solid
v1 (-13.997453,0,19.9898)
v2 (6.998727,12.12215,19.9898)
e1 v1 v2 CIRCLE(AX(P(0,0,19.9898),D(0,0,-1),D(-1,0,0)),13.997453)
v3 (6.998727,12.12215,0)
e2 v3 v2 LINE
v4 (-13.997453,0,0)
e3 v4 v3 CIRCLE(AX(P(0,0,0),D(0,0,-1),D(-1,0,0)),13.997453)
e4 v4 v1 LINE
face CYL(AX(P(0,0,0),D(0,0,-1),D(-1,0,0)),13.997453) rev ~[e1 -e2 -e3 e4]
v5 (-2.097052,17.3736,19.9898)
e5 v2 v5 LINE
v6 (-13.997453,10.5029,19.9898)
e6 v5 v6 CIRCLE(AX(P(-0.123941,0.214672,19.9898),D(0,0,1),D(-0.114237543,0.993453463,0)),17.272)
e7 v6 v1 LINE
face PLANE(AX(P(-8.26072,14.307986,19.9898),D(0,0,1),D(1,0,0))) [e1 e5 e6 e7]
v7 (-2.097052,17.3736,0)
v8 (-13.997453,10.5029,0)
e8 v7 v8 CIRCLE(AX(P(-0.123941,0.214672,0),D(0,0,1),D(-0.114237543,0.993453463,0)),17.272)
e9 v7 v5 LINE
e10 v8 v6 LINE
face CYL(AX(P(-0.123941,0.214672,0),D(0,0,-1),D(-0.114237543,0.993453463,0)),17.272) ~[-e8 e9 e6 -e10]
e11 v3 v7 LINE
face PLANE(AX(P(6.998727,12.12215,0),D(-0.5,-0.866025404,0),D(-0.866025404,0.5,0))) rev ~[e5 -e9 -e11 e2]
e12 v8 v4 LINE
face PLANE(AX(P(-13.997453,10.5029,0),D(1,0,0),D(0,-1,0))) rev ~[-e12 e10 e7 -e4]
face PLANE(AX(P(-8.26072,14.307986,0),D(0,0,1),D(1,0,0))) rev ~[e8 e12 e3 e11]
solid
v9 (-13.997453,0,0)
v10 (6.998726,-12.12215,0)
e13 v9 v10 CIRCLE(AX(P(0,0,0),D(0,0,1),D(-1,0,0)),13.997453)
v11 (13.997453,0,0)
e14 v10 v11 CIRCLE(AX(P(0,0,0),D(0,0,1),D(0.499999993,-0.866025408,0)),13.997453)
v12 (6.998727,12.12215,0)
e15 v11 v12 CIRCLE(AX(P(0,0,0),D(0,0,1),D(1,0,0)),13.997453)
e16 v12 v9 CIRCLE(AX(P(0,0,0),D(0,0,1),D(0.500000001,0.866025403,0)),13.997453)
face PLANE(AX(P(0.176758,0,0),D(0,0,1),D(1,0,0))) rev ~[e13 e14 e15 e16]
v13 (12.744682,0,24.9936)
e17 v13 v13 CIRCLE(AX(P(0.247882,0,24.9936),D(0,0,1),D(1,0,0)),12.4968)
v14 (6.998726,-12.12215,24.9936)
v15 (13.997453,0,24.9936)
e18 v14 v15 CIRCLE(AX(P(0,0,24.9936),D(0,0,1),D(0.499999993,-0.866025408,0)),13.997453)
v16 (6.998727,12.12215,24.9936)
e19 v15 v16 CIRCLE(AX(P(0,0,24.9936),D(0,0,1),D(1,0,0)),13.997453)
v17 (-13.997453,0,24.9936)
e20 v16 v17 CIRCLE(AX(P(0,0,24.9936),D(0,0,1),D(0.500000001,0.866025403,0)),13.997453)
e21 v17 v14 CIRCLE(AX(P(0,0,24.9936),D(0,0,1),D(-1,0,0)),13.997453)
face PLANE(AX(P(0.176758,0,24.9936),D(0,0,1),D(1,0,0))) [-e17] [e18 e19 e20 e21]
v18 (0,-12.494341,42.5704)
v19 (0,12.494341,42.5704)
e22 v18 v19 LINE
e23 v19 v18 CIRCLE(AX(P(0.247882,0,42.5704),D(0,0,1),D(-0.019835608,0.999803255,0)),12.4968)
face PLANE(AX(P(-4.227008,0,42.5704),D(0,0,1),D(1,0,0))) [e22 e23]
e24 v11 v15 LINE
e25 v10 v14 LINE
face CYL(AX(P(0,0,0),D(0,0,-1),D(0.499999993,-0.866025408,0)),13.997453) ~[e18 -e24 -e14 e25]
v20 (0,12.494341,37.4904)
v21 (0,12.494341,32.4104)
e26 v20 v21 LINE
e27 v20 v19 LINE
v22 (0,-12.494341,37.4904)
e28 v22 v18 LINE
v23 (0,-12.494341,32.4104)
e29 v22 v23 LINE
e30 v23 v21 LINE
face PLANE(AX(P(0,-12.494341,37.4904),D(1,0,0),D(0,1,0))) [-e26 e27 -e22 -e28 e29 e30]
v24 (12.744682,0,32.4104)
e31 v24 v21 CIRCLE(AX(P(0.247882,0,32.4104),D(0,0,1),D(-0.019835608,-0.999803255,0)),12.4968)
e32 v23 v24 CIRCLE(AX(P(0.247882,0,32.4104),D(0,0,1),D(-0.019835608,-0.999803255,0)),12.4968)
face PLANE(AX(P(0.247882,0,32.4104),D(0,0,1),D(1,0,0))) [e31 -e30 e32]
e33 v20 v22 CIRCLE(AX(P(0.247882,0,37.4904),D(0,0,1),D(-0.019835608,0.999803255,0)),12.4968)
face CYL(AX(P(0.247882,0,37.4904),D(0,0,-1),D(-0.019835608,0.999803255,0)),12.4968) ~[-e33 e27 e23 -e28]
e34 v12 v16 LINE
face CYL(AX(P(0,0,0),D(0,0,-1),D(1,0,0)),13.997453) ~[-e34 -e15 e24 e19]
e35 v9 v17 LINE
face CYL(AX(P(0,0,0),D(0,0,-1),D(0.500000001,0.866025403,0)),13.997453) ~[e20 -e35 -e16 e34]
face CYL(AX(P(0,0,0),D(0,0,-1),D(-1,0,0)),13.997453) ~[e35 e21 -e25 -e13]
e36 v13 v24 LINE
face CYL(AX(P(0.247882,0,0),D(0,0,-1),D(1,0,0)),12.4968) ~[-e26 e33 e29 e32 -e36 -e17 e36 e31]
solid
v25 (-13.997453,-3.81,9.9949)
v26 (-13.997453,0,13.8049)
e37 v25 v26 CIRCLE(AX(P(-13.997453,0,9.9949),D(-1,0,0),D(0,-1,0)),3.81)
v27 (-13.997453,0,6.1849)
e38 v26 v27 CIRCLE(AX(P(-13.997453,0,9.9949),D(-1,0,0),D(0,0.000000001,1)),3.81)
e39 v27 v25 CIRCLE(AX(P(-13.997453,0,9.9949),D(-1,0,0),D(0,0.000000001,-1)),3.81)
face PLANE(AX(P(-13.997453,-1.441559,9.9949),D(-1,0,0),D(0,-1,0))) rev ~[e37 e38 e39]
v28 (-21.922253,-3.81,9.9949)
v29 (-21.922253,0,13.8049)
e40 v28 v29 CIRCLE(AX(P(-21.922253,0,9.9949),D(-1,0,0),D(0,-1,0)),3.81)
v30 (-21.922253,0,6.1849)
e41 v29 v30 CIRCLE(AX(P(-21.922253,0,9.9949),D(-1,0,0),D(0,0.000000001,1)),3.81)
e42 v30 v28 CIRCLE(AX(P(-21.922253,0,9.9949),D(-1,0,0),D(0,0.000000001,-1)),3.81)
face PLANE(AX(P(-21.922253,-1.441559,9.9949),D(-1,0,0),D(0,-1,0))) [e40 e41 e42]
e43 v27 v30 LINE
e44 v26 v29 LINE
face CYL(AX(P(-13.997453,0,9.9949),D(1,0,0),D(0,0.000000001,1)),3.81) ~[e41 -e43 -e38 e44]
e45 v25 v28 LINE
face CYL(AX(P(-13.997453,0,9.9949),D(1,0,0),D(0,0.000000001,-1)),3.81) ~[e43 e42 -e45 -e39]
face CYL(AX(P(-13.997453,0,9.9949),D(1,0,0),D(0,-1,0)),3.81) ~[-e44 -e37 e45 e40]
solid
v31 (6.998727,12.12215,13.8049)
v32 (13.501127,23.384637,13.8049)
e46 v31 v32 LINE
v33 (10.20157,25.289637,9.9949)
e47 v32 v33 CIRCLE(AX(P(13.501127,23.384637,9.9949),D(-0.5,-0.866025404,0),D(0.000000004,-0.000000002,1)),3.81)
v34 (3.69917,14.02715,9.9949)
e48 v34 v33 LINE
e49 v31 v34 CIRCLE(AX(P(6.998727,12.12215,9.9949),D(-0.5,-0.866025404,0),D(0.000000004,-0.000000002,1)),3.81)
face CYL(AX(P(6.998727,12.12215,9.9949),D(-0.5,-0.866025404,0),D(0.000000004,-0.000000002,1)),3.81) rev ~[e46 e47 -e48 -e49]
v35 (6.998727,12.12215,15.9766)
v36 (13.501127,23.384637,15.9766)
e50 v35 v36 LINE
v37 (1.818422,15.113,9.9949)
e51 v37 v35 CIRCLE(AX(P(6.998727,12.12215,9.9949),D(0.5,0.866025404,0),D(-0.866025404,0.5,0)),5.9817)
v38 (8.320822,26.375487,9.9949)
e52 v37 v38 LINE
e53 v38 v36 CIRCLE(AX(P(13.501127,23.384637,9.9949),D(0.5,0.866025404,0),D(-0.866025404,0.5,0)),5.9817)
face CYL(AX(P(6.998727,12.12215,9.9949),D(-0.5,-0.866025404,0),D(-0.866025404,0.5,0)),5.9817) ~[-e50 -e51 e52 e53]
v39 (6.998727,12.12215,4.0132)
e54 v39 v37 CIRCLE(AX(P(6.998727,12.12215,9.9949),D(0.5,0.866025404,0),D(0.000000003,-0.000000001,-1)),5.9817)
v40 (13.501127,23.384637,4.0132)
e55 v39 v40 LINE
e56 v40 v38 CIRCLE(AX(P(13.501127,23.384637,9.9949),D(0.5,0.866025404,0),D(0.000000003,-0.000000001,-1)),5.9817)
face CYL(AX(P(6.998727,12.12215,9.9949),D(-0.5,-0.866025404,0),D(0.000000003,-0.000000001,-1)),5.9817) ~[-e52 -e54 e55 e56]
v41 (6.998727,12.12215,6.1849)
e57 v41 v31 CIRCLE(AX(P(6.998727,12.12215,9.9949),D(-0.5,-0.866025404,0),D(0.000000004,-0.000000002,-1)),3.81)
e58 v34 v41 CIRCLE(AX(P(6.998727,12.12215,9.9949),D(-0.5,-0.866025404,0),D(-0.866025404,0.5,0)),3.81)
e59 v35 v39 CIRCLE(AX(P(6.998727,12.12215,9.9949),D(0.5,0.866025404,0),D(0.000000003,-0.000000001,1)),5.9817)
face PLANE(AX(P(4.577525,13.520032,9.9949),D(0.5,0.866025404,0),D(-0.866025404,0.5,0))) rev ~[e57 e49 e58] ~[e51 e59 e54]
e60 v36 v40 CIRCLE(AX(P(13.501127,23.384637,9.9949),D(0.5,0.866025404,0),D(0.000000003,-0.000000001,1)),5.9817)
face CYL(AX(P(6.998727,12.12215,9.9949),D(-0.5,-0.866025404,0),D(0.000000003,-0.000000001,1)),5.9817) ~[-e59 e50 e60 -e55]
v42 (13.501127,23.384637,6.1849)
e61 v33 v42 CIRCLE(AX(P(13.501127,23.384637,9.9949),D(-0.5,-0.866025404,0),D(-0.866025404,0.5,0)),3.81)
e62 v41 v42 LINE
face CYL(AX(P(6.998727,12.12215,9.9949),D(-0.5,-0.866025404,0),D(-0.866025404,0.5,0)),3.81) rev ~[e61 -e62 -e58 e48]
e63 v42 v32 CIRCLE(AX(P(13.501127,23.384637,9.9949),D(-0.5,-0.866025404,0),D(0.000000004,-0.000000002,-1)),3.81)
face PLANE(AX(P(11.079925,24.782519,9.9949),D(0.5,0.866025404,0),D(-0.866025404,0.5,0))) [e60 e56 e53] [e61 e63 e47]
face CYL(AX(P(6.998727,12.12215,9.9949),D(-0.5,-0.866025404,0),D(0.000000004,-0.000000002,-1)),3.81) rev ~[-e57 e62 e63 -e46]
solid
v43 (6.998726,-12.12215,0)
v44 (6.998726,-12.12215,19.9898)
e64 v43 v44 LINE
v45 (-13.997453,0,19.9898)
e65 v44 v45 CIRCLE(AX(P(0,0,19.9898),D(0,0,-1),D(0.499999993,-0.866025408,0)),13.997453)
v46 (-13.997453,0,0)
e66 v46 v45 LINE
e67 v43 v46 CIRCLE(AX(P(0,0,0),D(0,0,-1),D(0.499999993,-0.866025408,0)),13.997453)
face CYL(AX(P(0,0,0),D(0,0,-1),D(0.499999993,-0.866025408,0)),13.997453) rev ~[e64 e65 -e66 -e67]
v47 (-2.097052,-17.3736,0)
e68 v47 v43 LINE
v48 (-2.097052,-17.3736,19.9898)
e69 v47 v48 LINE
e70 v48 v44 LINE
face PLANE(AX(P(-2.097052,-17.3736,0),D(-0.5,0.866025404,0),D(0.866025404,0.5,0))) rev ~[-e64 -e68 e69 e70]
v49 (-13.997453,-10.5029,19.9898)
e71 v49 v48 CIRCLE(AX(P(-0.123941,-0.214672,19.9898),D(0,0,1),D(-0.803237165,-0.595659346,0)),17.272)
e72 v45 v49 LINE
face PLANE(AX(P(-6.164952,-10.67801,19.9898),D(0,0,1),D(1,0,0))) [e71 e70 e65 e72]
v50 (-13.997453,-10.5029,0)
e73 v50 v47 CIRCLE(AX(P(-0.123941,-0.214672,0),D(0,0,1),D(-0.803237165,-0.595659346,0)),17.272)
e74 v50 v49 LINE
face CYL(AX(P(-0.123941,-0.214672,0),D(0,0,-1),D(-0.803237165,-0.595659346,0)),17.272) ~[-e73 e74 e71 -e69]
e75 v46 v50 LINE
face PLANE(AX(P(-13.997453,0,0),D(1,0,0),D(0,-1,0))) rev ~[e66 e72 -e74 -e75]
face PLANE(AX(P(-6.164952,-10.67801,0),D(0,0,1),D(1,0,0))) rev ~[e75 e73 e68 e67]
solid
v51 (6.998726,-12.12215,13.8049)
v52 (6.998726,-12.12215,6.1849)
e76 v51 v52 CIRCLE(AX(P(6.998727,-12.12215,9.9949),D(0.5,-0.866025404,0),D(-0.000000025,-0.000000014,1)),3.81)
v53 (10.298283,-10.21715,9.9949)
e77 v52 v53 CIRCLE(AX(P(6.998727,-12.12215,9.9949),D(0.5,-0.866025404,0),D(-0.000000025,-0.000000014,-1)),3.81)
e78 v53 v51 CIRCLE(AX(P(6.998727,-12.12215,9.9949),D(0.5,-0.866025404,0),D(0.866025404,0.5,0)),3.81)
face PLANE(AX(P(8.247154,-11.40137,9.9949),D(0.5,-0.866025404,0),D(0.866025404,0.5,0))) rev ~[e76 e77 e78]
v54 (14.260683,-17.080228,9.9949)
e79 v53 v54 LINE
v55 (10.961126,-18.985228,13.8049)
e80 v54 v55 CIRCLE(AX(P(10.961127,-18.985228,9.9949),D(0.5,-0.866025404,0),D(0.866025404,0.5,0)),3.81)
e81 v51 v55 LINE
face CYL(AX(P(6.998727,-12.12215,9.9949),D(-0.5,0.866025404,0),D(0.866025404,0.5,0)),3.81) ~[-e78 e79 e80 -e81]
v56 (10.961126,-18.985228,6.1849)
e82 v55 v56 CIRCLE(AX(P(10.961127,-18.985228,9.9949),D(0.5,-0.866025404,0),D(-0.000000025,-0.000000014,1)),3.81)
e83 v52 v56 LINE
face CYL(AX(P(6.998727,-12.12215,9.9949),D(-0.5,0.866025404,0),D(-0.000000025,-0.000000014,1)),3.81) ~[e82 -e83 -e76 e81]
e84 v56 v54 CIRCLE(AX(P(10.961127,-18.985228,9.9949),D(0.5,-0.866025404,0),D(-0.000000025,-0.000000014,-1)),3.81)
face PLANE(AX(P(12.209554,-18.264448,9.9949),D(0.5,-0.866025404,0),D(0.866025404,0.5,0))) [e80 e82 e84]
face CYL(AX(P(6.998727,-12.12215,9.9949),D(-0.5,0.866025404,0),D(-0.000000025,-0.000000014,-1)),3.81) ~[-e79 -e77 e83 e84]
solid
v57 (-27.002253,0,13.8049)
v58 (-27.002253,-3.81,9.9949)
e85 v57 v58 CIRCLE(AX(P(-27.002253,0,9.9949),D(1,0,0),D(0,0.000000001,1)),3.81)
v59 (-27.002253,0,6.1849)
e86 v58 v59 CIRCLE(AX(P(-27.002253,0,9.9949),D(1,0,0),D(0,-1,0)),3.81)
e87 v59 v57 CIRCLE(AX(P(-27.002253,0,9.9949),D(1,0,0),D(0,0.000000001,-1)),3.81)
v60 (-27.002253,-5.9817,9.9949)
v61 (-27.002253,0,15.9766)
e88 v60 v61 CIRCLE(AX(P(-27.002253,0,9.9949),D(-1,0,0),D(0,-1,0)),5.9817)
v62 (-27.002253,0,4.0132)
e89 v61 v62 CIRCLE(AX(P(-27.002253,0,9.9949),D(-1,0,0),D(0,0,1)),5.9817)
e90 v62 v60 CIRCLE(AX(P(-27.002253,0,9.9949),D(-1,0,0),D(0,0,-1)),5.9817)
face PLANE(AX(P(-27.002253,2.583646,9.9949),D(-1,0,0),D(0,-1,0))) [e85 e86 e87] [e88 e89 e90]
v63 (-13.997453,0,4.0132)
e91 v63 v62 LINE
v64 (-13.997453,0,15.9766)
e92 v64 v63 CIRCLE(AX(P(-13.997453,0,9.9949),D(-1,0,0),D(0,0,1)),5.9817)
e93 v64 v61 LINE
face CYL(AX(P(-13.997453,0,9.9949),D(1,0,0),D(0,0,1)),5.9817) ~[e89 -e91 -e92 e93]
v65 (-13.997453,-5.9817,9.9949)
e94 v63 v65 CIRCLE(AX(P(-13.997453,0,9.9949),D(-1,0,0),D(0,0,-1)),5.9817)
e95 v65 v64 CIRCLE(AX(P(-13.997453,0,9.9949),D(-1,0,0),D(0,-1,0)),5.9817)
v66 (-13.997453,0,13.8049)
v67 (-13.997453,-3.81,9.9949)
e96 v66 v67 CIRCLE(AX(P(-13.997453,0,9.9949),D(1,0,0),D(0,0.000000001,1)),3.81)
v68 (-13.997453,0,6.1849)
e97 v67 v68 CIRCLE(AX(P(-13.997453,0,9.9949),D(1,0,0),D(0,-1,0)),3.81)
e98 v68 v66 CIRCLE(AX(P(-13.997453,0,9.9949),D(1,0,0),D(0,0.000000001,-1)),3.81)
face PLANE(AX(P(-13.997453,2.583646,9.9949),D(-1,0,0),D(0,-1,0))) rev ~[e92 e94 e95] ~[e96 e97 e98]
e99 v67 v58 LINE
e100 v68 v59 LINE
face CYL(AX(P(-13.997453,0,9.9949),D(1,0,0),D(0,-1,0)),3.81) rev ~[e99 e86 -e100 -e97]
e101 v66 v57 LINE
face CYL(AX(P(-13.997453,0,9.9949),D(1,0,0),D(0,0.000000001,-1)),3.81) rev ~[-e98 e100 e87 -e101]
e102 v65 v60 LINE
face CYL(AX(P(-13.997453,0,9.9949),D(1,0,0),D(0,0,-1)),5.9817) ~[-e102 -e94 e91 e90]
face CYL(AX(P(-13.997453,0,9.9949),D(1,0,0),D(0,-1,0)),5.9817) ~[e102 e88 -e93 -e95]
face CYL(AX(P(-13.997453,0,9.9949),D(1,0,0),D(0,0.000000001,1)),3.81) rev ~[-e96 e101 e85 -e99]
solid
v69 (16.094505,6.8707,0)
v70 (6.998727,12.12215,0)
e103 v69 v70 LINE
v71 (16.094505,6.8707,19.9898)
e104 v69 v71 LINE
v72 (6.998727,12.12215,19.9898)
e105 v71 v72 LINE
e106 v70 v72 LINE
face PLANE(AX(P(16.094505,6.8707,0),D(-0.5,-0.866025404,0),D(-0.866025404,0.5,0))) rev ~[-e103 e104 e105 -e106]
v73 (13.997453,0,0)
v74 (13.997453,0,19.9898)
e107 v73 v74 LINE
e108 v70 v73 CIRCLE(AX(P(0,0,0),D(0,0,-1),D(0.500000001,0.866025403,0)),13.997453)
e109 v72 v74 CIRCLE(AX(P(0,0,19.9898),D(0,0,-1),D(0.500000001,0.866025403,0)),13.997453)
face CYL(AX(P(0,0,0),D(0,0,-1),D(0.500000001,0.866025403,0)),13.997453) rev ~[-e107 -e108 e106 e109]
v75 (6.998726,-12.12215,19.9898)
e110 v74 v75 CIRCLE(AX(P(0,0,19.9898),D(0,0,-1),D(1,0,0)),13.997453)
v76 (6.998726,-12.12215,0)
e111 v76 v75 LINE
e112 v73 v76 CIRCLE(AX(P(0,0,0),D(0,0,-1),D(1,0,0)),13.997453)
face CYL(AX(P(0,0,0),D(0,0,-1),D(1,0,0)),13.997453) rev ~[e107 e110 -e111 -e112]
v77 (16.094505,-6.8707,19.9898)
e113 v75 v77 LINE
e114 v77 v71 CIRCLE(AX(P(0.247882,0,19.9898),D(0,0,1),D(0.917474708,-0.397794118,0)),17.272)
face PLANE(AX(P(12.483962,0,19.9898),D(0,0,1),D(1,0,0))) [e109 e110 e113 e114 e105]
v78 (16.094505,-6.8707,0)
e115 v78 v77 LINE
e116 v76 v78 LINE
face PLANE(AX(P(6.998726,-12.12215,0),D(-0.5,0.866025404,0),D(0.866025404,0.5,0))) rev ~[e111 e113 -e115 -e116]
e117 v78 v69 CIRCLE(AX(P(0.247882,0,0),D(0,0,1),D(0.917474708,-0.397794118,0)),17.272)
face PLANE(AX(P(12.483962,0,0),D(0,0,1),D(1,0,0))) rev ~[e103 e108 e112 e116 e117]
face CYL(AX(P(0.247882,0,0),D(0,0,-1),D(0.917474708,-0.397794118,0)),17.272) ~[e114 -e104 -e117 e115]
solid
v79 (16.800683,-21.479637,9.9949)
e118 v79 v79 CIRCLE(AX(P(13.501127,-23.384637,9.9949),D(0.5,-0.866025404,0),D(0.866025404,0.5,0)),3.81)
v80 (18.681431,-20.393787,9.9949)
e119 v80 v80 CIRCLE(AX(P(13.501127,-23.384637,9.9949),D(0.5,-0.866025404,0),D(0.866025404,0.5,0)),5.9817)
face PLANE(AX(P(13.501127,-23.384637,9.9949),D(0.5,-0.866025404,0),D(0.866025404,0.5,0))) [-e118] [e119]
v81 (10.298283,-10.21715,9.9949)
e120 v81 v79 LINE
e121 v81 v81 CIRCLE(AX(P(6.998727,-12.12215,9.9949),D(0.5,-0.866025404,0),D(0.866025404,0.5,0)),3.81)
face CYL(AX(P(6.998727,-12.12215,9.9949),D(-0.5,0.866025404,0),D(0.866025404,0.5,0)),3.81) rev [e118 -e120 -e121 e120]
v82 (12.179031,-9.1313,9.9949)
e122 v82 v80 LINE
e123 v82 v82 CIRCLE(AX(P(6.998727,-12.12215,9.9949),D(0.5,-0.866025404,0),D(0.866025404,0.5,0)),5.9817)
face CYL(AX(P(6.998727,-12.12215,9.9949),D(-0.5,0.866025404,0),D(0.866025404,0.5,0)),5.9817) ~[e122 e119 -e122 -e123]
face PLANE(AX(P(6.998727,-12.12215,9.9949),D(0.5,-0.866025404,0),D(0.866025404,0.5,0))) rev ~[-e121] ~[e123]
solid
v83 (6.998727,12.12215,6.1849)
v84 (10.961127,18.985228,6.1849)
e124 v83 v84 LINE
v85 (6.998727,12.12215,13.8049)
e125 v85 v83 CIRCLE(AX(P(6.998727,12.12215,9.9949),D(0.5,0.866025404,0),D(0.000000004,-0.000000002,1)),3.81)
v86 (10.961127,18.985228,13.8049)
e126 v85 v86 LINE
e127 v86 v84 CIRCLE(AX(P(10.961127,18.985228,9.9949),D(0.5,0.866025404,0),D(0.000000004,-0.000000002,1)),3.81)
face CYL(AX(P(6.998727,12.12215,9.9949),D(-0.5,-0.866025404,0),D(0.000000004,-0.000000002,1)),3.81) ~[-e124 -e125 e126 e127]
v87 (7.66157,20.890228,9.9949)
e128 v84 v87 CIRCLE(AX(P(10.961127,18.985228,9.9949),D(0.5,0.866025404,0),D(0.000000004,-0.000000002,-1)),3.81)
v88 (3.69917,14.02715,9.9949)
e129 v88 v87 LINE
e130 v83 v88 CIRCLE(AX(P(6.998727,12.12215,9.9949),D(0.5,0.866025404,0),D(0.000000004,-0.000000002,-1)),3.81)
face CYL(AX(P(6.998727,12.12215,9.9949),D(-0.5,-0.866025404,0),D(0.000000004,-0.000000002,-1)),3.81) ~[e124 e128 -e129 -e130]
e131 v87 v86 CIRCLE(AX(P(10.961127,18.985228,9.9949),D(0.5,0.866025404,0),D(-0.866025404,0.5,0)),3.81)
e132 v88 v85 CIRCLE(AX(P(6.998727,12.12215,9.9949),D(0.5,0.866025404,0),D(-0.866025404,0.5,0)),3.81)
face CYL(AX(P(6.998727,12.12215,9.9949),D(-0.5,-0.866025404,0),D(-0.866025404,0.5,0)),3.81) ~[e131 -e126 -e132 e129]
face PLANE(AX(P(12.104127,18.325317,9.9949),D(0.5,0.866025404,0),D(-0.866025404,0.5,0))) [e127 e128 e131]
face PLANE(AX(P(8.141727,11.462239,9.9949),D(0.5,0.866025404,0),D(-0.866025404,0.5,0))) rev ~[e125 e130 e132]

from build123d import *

# Parameters (mm, degrees)
F1_DEPTH  = 19.9898
F0_R      = 12.4968
F2_DEPTH  = 24.9936
F3_DEPTH  = 37.4904
F5_DEPTH  = 13.0048
F6_R      = 5.9817
F6_R_2    = 3.81
F7_DEPTH  = 13.0048
F8_DEPTH  = 7.9248
F9_DEPTH  = 7.9248
F11_DEPTH = 13.0048
F12_DEPTH = 7.9248
F14_DEPTH = 5.08
F15_DEPTH = 5.08


with BuildPart() as f1:
    # F0 (on Top) → F1 (new body)
    with BuildSketch(Plane.XY):
        with BuildLine():
            Line((-13.9974531313, 2.8e-09), (-13.9974531313, -10.5029))
            Line((-13.9974531313, -10.5029), (-2.0970516478, -17.3736))
            Line((-2.0970516478, -17.3736), (6.9987264714, -12.1221500544))
            ThreePointArc((6.9987264714, -12.1221500544), (-6.998726614, -12.1221499721), (-13.9974531313, 2.8e-09))
        make_face()
        with BuildLine():
            Line((-2.0970516478, -17.3736), (-13.9974531313, -10.5029))
            ThreePointArc((-13.9974531313, -10.5029), (-8.7599408106, -15.1726625552), (-2.0970516478, -17.3736))
        make_face()
    extrude(amount=F1_DEPTH)


with BuildPart() as f1b:
    # F0 (on Top) → F1, piece 2 (new body)
    with BuildSketch(Plane.XY):
        with BuildLine():
            ThreePointArc((-2.0970516478, 17.3736), (-8.7599408106, 15.1726625552), (-13.9974531313, 10.5029))
            Line((-13.9974531313, 10.5029), (-2.0970516478, 17.3736))
        make_face()
        with BuildLine():
            Line((-13.9974531313, 10.5029), (-13.9974531313, 2.8e-09))
            ThreePointArc((-13.9974531313, 2.8e-09), (-6.9987265569, 12.1221500051), (6.9987265808, 12.1221499913))
            Line((6.9987265808, 12.1221499913), (-2.0970516478, 17.3736))
            Line((-2.0970516478, 17.3736), (-13.9974531313, 10.5029))
        make_face()
    extrude(amount=F1_DEPTH)


with BuildPart() as f1c:
    # F0 (on Top) → F1, piece 3 (new body)
    with BuildSketch(Plane.XY):
        with BuildLine():
            Line((16.0945047791, 6.8707), (6.9987265808, 12.1221499913))
            ThreePointArc((6.9987265808, 12.1221499913), (12.1221500044, 6.9987265581), (13.9974531313, 0))
            ThreePointArc((13.9974531313, 0), (12.1221499728, -6.9987266128), (6.9987264714, -12.1221500544))
            Line((6.9987264714, -12.1221500544), (16.0945047791, -6.8707))
            Line((16.0945047791, -6.8707), (16.0945047791, 6.8707))
        make_face()
        with BuildLine():
            ThreePointArc((16.0945047791, -6.8707), (17.5198816211, 0), (16.0945047791, 6.8707))
            Line((16.0945047791, 6.8707), (16.0945047791, -6.8707))
        make_face()
    extrude(amount=F1_DEPTH)


with BuildPart() as f2:
    # F0 (on Top) → F2 (new body)
    with BuildSketch(Plane.XY):
        with BuildLine():
            ThreePointArc((6.9987265808, 12.1221499913), (-6.9987265569, 12.1221500051), (-13.9974531313, 2.8e-09))
            ThreePointArc((-13.9974531313, 2.8e-09), (-6.998726614, -12.1221499721), (6.9987264714, -12.1221500544))
            ThreePointArc((6.9987264714, -12.1221500544), (12.1221499728, -6.9987266128), (13.9974531313, 0))
            ThreePointArc((13.9974531313, 0), (12.1221500044, 6.9987265581), (6.9987265808, 12.1221499913))
        make_face()
        with Locations((0.2478816211, 0)):
            Circle(F0_R, mode=Mode.SUBTRACT)
    extrude(amount=F2_DEPTH)

    # F0 (on Top) → F3 (join)
    with BuildSketch(Plane.XY):
        with Locations((0.2478816211, 0)):
            Circle(F0_R)
    extrude(amount=F3_DEPTH)

    # F13 (on face) → F14 (join)
    with BuildSketch(Plane.XY.offset(37.4904)):
        with BuildLine():
            ThreePointArc((0, 12.4943413168), (-12.2489183789, 0), (0, -12.4943413168))
            Line((0, -12.4943413168), (0, 12.4943413168))
        make_face()
    extrude(amount=F14_DEPTH)

    # F15 (cut): a face of the model
    f15_faces = [f2.faces().sort_by_distance(p)[0] for p in [
        (5.4179933027, 0, 37.4904),
    ]]
    extrude(f15_faces, amount=-F15_DEPTH, mode=Mode.SUBTRACT)


with BuildPart() as f5:
    # F4 (on face) → F5 (new body)
    with BuildSketch(Plane(origin=(-13.9974531313, 0, 0), x_dir=(0, -1, 0), z_dir=(-1, 0, 0))):
        with BuildLine():
            Line((-2.8e-09, 13.8049), (-2.8e-09, 15.9766))
            ThreePointArc((-2.8e-09, 15.9766), (-5.9817, 9.9949), (-2.8e-09, 4.0132))
            Line((-2.8e-09, 4.0132), (-2.8e-09, 6.1849))
            ThreePointArc((-2.8e-09, 6.1849), (-3.81, 9.9949), (-2.8e-09, 13.8049))
        make_face()
        with BuildLine():
            ThreePointArc((-2.8e-09, 4.0132), (4.229700632, 5.765199366), (5.9817, 9.9949))
            ThreePointArc((5.9817, 9.9949), (4.229700632, 14.224600634), (-2.8e-09, 15.9766))
            Line((-2.8e-09, 15.9766), (-2.8e-09, 13.8049))
            ThreePointArc((-2.8e-09, 13.8049), (2.6940768353, 12.6889768373), (3.81, 9.9949))
            ThreePointArc((3.81, 9.9949), (2.6940768353, 7.3008231627), (-2.8e-09, 6.1849))
            Line((-2.8e-09, 6.1849), (-2.8e-09, 4.0132))
        make_face()
    extrude(amount=F5_DEPTH)


with BuildPart() as f7:
    # F6 (on face) → F7 (new body)
    with BuildSketch(Plane(origin=(6.9987265657, -12.12215, 0), x_dir=(0.8660254038, 0.5, 0), z_dir=(0.5, -0.8660254038, 0))):
        with Locations((0, 9.9949)):
            Circle(F6_R)
        with Locations((0, 9.9949)):
            Circle(F6_R_2, mode=Mode.SUBTRACT)
    extrude(amount=F7_DEPTH)


with BuildPart() as f8:
    # F4 (on face) → F8 (new body)
    with BuildSketch(Plane(origin=(-13.9974531313, 0, 0), x_dir=(0, -1, 0), z_dir=(-1, 0, 0))):
        with BuildLine():
            ThreePointArc((3.81, 9.9949), (2.6940768353, 12.6889768373), (-2.8e-09, 13.8049))
            Line((-2.8e-09, 13.8049), (-2.8e-09, 6.1849))
            ThreePointArc((-2.8e-09, 6.1849), (2.6940768353, 7.3008231627), (3.81, 9.9949))
        make_face()
        with BuildLine():
            Line((-2.8e-09, 6.1849), (-2.8e-09, 13.8049))
            ThreePointArc((-2.8e-09, 13.8049), (-3.81, 9.9949), (-2.8e-09, 6.1849))
        make_face()
    extrude(amount=F8_DEPTH)


with BuildPart() as f9:
    # F6 (on face) → F9 (new body)
    with BuildSketch(Plane(origin=(6.9987265657, -12.12215, 0), x_dir=(0.8660254038, 0.5, 0), z_dir=(0.5, -0.8660254038, 0))):
        with BuildLine():
            ThreePointArc((3.81, 9.9949), (2.6940767978, 12.6889768748), (-1.088e-07, 13.8049))
            Line((-1.088e-07, 13.8049), (-1.088e-07, 6.1849))
            ThreePointArc((-1.088e-07, 6.1849), (2.6940767978, 7.3008231252), (3.81, 9.9949))
        make_face()
        with BuildLine():
            Line((-1.088e-07, 6.1849), (-1.088e-07, 13.8049))
            ThreePointArc((-1.088e-07, 13.8049), (-3.81, 9.9949), (-1.088e-07, 6.1849))
        make_face()
    extrude(amount=F9_DEPTH)


with BuildPart() as f11:
    # F10 (on face) → F11 (new body)
    with BuildSketch(Plane(origin=(6.9987265657, 12.12215, 0), x_dir=(-0.8660254038, 0.5, 0), z_dir=(0.5, 0.8660254038, 0))):
        with BuildLine():
            ThreePointArc((-1.74e-08, 4.0132), (4.2297006269, 5.7651993608), (5.9817, 9.9949))
            ThreePointArc((5.9817, 9.9949), (4.2297006269, 14.2246006392), (-1.74e-08, 15.9766))
            Line((-1.74e-08, 15.9766), (-1.74e-08, 13.8049))
            ThreePointArc((-1.74e-08, 13.8049), (2.6940768302, 12.6889768425), (3.81, 9.9949))
            ThreePointArc((3.81, 9.9949), (2.6940768302, 7.3008231575), (-1.74e-08, 6.1849))
            Line((-1.74e-08, 6.1849), (-1.74e-08, 4.0132))
        make_face()
        with BuildLine():
            Line((-1.74e-08, 13.8049), (-1.74e-08, 15.9766))
            ThreePointArc((-1.74e-08, 15.9766), (-5.9817, 9.9949), (-1.74e-08, 4.0132))
            Line((-1.74e-08, 4.0132), (-1.74e-08, 6.1849))
            ThreePointArc((-1.74e-08, 6.1849), (-3.81, 9.9949), (-1.74e-08, 13.8049))
        make_face()
    extrude(amount=F11_DEPTH)


with BuildPart() as f12:
    # F10 (on face) → F12 (new body)
    with BuildSketch(Plane(origin=(6.9987265657, 12.12215, 0), x_dir=(-0.8660254038, 0.5, 0), z_dir=(0.5, 0.8660254038, 0))):
        with BuildLine():
            Line((-1.74e-08, 6.1849), (-1.74e-08, 13.8049))
            ThreePointArc((-1.74e-08, 13.8049), (-3.81, 9.9949), (-1.74e-08, 6.1849))
        make_face()
        with BuildLine():
            ThreePointArc((3.81, 9.9949), (2.6940768302, 12.6889768425), (-1.74e-08, 13.8049))
            Line((-1.74e-08, 13.8049), (-1.74e-08, 6.1849))
            ThreePointArc((-1.74e-08, 6.1849), (2.6940768302, 7.3008231575), (3.81, 9.9949))
        make_face()
    extrude(amount=F12_DEPTH)


solid = Compound([f1.part, f1b.part, f1c.part, f2.part, f5.part, f7.part, f8.part, f9.part, f11.part, f12.part])
